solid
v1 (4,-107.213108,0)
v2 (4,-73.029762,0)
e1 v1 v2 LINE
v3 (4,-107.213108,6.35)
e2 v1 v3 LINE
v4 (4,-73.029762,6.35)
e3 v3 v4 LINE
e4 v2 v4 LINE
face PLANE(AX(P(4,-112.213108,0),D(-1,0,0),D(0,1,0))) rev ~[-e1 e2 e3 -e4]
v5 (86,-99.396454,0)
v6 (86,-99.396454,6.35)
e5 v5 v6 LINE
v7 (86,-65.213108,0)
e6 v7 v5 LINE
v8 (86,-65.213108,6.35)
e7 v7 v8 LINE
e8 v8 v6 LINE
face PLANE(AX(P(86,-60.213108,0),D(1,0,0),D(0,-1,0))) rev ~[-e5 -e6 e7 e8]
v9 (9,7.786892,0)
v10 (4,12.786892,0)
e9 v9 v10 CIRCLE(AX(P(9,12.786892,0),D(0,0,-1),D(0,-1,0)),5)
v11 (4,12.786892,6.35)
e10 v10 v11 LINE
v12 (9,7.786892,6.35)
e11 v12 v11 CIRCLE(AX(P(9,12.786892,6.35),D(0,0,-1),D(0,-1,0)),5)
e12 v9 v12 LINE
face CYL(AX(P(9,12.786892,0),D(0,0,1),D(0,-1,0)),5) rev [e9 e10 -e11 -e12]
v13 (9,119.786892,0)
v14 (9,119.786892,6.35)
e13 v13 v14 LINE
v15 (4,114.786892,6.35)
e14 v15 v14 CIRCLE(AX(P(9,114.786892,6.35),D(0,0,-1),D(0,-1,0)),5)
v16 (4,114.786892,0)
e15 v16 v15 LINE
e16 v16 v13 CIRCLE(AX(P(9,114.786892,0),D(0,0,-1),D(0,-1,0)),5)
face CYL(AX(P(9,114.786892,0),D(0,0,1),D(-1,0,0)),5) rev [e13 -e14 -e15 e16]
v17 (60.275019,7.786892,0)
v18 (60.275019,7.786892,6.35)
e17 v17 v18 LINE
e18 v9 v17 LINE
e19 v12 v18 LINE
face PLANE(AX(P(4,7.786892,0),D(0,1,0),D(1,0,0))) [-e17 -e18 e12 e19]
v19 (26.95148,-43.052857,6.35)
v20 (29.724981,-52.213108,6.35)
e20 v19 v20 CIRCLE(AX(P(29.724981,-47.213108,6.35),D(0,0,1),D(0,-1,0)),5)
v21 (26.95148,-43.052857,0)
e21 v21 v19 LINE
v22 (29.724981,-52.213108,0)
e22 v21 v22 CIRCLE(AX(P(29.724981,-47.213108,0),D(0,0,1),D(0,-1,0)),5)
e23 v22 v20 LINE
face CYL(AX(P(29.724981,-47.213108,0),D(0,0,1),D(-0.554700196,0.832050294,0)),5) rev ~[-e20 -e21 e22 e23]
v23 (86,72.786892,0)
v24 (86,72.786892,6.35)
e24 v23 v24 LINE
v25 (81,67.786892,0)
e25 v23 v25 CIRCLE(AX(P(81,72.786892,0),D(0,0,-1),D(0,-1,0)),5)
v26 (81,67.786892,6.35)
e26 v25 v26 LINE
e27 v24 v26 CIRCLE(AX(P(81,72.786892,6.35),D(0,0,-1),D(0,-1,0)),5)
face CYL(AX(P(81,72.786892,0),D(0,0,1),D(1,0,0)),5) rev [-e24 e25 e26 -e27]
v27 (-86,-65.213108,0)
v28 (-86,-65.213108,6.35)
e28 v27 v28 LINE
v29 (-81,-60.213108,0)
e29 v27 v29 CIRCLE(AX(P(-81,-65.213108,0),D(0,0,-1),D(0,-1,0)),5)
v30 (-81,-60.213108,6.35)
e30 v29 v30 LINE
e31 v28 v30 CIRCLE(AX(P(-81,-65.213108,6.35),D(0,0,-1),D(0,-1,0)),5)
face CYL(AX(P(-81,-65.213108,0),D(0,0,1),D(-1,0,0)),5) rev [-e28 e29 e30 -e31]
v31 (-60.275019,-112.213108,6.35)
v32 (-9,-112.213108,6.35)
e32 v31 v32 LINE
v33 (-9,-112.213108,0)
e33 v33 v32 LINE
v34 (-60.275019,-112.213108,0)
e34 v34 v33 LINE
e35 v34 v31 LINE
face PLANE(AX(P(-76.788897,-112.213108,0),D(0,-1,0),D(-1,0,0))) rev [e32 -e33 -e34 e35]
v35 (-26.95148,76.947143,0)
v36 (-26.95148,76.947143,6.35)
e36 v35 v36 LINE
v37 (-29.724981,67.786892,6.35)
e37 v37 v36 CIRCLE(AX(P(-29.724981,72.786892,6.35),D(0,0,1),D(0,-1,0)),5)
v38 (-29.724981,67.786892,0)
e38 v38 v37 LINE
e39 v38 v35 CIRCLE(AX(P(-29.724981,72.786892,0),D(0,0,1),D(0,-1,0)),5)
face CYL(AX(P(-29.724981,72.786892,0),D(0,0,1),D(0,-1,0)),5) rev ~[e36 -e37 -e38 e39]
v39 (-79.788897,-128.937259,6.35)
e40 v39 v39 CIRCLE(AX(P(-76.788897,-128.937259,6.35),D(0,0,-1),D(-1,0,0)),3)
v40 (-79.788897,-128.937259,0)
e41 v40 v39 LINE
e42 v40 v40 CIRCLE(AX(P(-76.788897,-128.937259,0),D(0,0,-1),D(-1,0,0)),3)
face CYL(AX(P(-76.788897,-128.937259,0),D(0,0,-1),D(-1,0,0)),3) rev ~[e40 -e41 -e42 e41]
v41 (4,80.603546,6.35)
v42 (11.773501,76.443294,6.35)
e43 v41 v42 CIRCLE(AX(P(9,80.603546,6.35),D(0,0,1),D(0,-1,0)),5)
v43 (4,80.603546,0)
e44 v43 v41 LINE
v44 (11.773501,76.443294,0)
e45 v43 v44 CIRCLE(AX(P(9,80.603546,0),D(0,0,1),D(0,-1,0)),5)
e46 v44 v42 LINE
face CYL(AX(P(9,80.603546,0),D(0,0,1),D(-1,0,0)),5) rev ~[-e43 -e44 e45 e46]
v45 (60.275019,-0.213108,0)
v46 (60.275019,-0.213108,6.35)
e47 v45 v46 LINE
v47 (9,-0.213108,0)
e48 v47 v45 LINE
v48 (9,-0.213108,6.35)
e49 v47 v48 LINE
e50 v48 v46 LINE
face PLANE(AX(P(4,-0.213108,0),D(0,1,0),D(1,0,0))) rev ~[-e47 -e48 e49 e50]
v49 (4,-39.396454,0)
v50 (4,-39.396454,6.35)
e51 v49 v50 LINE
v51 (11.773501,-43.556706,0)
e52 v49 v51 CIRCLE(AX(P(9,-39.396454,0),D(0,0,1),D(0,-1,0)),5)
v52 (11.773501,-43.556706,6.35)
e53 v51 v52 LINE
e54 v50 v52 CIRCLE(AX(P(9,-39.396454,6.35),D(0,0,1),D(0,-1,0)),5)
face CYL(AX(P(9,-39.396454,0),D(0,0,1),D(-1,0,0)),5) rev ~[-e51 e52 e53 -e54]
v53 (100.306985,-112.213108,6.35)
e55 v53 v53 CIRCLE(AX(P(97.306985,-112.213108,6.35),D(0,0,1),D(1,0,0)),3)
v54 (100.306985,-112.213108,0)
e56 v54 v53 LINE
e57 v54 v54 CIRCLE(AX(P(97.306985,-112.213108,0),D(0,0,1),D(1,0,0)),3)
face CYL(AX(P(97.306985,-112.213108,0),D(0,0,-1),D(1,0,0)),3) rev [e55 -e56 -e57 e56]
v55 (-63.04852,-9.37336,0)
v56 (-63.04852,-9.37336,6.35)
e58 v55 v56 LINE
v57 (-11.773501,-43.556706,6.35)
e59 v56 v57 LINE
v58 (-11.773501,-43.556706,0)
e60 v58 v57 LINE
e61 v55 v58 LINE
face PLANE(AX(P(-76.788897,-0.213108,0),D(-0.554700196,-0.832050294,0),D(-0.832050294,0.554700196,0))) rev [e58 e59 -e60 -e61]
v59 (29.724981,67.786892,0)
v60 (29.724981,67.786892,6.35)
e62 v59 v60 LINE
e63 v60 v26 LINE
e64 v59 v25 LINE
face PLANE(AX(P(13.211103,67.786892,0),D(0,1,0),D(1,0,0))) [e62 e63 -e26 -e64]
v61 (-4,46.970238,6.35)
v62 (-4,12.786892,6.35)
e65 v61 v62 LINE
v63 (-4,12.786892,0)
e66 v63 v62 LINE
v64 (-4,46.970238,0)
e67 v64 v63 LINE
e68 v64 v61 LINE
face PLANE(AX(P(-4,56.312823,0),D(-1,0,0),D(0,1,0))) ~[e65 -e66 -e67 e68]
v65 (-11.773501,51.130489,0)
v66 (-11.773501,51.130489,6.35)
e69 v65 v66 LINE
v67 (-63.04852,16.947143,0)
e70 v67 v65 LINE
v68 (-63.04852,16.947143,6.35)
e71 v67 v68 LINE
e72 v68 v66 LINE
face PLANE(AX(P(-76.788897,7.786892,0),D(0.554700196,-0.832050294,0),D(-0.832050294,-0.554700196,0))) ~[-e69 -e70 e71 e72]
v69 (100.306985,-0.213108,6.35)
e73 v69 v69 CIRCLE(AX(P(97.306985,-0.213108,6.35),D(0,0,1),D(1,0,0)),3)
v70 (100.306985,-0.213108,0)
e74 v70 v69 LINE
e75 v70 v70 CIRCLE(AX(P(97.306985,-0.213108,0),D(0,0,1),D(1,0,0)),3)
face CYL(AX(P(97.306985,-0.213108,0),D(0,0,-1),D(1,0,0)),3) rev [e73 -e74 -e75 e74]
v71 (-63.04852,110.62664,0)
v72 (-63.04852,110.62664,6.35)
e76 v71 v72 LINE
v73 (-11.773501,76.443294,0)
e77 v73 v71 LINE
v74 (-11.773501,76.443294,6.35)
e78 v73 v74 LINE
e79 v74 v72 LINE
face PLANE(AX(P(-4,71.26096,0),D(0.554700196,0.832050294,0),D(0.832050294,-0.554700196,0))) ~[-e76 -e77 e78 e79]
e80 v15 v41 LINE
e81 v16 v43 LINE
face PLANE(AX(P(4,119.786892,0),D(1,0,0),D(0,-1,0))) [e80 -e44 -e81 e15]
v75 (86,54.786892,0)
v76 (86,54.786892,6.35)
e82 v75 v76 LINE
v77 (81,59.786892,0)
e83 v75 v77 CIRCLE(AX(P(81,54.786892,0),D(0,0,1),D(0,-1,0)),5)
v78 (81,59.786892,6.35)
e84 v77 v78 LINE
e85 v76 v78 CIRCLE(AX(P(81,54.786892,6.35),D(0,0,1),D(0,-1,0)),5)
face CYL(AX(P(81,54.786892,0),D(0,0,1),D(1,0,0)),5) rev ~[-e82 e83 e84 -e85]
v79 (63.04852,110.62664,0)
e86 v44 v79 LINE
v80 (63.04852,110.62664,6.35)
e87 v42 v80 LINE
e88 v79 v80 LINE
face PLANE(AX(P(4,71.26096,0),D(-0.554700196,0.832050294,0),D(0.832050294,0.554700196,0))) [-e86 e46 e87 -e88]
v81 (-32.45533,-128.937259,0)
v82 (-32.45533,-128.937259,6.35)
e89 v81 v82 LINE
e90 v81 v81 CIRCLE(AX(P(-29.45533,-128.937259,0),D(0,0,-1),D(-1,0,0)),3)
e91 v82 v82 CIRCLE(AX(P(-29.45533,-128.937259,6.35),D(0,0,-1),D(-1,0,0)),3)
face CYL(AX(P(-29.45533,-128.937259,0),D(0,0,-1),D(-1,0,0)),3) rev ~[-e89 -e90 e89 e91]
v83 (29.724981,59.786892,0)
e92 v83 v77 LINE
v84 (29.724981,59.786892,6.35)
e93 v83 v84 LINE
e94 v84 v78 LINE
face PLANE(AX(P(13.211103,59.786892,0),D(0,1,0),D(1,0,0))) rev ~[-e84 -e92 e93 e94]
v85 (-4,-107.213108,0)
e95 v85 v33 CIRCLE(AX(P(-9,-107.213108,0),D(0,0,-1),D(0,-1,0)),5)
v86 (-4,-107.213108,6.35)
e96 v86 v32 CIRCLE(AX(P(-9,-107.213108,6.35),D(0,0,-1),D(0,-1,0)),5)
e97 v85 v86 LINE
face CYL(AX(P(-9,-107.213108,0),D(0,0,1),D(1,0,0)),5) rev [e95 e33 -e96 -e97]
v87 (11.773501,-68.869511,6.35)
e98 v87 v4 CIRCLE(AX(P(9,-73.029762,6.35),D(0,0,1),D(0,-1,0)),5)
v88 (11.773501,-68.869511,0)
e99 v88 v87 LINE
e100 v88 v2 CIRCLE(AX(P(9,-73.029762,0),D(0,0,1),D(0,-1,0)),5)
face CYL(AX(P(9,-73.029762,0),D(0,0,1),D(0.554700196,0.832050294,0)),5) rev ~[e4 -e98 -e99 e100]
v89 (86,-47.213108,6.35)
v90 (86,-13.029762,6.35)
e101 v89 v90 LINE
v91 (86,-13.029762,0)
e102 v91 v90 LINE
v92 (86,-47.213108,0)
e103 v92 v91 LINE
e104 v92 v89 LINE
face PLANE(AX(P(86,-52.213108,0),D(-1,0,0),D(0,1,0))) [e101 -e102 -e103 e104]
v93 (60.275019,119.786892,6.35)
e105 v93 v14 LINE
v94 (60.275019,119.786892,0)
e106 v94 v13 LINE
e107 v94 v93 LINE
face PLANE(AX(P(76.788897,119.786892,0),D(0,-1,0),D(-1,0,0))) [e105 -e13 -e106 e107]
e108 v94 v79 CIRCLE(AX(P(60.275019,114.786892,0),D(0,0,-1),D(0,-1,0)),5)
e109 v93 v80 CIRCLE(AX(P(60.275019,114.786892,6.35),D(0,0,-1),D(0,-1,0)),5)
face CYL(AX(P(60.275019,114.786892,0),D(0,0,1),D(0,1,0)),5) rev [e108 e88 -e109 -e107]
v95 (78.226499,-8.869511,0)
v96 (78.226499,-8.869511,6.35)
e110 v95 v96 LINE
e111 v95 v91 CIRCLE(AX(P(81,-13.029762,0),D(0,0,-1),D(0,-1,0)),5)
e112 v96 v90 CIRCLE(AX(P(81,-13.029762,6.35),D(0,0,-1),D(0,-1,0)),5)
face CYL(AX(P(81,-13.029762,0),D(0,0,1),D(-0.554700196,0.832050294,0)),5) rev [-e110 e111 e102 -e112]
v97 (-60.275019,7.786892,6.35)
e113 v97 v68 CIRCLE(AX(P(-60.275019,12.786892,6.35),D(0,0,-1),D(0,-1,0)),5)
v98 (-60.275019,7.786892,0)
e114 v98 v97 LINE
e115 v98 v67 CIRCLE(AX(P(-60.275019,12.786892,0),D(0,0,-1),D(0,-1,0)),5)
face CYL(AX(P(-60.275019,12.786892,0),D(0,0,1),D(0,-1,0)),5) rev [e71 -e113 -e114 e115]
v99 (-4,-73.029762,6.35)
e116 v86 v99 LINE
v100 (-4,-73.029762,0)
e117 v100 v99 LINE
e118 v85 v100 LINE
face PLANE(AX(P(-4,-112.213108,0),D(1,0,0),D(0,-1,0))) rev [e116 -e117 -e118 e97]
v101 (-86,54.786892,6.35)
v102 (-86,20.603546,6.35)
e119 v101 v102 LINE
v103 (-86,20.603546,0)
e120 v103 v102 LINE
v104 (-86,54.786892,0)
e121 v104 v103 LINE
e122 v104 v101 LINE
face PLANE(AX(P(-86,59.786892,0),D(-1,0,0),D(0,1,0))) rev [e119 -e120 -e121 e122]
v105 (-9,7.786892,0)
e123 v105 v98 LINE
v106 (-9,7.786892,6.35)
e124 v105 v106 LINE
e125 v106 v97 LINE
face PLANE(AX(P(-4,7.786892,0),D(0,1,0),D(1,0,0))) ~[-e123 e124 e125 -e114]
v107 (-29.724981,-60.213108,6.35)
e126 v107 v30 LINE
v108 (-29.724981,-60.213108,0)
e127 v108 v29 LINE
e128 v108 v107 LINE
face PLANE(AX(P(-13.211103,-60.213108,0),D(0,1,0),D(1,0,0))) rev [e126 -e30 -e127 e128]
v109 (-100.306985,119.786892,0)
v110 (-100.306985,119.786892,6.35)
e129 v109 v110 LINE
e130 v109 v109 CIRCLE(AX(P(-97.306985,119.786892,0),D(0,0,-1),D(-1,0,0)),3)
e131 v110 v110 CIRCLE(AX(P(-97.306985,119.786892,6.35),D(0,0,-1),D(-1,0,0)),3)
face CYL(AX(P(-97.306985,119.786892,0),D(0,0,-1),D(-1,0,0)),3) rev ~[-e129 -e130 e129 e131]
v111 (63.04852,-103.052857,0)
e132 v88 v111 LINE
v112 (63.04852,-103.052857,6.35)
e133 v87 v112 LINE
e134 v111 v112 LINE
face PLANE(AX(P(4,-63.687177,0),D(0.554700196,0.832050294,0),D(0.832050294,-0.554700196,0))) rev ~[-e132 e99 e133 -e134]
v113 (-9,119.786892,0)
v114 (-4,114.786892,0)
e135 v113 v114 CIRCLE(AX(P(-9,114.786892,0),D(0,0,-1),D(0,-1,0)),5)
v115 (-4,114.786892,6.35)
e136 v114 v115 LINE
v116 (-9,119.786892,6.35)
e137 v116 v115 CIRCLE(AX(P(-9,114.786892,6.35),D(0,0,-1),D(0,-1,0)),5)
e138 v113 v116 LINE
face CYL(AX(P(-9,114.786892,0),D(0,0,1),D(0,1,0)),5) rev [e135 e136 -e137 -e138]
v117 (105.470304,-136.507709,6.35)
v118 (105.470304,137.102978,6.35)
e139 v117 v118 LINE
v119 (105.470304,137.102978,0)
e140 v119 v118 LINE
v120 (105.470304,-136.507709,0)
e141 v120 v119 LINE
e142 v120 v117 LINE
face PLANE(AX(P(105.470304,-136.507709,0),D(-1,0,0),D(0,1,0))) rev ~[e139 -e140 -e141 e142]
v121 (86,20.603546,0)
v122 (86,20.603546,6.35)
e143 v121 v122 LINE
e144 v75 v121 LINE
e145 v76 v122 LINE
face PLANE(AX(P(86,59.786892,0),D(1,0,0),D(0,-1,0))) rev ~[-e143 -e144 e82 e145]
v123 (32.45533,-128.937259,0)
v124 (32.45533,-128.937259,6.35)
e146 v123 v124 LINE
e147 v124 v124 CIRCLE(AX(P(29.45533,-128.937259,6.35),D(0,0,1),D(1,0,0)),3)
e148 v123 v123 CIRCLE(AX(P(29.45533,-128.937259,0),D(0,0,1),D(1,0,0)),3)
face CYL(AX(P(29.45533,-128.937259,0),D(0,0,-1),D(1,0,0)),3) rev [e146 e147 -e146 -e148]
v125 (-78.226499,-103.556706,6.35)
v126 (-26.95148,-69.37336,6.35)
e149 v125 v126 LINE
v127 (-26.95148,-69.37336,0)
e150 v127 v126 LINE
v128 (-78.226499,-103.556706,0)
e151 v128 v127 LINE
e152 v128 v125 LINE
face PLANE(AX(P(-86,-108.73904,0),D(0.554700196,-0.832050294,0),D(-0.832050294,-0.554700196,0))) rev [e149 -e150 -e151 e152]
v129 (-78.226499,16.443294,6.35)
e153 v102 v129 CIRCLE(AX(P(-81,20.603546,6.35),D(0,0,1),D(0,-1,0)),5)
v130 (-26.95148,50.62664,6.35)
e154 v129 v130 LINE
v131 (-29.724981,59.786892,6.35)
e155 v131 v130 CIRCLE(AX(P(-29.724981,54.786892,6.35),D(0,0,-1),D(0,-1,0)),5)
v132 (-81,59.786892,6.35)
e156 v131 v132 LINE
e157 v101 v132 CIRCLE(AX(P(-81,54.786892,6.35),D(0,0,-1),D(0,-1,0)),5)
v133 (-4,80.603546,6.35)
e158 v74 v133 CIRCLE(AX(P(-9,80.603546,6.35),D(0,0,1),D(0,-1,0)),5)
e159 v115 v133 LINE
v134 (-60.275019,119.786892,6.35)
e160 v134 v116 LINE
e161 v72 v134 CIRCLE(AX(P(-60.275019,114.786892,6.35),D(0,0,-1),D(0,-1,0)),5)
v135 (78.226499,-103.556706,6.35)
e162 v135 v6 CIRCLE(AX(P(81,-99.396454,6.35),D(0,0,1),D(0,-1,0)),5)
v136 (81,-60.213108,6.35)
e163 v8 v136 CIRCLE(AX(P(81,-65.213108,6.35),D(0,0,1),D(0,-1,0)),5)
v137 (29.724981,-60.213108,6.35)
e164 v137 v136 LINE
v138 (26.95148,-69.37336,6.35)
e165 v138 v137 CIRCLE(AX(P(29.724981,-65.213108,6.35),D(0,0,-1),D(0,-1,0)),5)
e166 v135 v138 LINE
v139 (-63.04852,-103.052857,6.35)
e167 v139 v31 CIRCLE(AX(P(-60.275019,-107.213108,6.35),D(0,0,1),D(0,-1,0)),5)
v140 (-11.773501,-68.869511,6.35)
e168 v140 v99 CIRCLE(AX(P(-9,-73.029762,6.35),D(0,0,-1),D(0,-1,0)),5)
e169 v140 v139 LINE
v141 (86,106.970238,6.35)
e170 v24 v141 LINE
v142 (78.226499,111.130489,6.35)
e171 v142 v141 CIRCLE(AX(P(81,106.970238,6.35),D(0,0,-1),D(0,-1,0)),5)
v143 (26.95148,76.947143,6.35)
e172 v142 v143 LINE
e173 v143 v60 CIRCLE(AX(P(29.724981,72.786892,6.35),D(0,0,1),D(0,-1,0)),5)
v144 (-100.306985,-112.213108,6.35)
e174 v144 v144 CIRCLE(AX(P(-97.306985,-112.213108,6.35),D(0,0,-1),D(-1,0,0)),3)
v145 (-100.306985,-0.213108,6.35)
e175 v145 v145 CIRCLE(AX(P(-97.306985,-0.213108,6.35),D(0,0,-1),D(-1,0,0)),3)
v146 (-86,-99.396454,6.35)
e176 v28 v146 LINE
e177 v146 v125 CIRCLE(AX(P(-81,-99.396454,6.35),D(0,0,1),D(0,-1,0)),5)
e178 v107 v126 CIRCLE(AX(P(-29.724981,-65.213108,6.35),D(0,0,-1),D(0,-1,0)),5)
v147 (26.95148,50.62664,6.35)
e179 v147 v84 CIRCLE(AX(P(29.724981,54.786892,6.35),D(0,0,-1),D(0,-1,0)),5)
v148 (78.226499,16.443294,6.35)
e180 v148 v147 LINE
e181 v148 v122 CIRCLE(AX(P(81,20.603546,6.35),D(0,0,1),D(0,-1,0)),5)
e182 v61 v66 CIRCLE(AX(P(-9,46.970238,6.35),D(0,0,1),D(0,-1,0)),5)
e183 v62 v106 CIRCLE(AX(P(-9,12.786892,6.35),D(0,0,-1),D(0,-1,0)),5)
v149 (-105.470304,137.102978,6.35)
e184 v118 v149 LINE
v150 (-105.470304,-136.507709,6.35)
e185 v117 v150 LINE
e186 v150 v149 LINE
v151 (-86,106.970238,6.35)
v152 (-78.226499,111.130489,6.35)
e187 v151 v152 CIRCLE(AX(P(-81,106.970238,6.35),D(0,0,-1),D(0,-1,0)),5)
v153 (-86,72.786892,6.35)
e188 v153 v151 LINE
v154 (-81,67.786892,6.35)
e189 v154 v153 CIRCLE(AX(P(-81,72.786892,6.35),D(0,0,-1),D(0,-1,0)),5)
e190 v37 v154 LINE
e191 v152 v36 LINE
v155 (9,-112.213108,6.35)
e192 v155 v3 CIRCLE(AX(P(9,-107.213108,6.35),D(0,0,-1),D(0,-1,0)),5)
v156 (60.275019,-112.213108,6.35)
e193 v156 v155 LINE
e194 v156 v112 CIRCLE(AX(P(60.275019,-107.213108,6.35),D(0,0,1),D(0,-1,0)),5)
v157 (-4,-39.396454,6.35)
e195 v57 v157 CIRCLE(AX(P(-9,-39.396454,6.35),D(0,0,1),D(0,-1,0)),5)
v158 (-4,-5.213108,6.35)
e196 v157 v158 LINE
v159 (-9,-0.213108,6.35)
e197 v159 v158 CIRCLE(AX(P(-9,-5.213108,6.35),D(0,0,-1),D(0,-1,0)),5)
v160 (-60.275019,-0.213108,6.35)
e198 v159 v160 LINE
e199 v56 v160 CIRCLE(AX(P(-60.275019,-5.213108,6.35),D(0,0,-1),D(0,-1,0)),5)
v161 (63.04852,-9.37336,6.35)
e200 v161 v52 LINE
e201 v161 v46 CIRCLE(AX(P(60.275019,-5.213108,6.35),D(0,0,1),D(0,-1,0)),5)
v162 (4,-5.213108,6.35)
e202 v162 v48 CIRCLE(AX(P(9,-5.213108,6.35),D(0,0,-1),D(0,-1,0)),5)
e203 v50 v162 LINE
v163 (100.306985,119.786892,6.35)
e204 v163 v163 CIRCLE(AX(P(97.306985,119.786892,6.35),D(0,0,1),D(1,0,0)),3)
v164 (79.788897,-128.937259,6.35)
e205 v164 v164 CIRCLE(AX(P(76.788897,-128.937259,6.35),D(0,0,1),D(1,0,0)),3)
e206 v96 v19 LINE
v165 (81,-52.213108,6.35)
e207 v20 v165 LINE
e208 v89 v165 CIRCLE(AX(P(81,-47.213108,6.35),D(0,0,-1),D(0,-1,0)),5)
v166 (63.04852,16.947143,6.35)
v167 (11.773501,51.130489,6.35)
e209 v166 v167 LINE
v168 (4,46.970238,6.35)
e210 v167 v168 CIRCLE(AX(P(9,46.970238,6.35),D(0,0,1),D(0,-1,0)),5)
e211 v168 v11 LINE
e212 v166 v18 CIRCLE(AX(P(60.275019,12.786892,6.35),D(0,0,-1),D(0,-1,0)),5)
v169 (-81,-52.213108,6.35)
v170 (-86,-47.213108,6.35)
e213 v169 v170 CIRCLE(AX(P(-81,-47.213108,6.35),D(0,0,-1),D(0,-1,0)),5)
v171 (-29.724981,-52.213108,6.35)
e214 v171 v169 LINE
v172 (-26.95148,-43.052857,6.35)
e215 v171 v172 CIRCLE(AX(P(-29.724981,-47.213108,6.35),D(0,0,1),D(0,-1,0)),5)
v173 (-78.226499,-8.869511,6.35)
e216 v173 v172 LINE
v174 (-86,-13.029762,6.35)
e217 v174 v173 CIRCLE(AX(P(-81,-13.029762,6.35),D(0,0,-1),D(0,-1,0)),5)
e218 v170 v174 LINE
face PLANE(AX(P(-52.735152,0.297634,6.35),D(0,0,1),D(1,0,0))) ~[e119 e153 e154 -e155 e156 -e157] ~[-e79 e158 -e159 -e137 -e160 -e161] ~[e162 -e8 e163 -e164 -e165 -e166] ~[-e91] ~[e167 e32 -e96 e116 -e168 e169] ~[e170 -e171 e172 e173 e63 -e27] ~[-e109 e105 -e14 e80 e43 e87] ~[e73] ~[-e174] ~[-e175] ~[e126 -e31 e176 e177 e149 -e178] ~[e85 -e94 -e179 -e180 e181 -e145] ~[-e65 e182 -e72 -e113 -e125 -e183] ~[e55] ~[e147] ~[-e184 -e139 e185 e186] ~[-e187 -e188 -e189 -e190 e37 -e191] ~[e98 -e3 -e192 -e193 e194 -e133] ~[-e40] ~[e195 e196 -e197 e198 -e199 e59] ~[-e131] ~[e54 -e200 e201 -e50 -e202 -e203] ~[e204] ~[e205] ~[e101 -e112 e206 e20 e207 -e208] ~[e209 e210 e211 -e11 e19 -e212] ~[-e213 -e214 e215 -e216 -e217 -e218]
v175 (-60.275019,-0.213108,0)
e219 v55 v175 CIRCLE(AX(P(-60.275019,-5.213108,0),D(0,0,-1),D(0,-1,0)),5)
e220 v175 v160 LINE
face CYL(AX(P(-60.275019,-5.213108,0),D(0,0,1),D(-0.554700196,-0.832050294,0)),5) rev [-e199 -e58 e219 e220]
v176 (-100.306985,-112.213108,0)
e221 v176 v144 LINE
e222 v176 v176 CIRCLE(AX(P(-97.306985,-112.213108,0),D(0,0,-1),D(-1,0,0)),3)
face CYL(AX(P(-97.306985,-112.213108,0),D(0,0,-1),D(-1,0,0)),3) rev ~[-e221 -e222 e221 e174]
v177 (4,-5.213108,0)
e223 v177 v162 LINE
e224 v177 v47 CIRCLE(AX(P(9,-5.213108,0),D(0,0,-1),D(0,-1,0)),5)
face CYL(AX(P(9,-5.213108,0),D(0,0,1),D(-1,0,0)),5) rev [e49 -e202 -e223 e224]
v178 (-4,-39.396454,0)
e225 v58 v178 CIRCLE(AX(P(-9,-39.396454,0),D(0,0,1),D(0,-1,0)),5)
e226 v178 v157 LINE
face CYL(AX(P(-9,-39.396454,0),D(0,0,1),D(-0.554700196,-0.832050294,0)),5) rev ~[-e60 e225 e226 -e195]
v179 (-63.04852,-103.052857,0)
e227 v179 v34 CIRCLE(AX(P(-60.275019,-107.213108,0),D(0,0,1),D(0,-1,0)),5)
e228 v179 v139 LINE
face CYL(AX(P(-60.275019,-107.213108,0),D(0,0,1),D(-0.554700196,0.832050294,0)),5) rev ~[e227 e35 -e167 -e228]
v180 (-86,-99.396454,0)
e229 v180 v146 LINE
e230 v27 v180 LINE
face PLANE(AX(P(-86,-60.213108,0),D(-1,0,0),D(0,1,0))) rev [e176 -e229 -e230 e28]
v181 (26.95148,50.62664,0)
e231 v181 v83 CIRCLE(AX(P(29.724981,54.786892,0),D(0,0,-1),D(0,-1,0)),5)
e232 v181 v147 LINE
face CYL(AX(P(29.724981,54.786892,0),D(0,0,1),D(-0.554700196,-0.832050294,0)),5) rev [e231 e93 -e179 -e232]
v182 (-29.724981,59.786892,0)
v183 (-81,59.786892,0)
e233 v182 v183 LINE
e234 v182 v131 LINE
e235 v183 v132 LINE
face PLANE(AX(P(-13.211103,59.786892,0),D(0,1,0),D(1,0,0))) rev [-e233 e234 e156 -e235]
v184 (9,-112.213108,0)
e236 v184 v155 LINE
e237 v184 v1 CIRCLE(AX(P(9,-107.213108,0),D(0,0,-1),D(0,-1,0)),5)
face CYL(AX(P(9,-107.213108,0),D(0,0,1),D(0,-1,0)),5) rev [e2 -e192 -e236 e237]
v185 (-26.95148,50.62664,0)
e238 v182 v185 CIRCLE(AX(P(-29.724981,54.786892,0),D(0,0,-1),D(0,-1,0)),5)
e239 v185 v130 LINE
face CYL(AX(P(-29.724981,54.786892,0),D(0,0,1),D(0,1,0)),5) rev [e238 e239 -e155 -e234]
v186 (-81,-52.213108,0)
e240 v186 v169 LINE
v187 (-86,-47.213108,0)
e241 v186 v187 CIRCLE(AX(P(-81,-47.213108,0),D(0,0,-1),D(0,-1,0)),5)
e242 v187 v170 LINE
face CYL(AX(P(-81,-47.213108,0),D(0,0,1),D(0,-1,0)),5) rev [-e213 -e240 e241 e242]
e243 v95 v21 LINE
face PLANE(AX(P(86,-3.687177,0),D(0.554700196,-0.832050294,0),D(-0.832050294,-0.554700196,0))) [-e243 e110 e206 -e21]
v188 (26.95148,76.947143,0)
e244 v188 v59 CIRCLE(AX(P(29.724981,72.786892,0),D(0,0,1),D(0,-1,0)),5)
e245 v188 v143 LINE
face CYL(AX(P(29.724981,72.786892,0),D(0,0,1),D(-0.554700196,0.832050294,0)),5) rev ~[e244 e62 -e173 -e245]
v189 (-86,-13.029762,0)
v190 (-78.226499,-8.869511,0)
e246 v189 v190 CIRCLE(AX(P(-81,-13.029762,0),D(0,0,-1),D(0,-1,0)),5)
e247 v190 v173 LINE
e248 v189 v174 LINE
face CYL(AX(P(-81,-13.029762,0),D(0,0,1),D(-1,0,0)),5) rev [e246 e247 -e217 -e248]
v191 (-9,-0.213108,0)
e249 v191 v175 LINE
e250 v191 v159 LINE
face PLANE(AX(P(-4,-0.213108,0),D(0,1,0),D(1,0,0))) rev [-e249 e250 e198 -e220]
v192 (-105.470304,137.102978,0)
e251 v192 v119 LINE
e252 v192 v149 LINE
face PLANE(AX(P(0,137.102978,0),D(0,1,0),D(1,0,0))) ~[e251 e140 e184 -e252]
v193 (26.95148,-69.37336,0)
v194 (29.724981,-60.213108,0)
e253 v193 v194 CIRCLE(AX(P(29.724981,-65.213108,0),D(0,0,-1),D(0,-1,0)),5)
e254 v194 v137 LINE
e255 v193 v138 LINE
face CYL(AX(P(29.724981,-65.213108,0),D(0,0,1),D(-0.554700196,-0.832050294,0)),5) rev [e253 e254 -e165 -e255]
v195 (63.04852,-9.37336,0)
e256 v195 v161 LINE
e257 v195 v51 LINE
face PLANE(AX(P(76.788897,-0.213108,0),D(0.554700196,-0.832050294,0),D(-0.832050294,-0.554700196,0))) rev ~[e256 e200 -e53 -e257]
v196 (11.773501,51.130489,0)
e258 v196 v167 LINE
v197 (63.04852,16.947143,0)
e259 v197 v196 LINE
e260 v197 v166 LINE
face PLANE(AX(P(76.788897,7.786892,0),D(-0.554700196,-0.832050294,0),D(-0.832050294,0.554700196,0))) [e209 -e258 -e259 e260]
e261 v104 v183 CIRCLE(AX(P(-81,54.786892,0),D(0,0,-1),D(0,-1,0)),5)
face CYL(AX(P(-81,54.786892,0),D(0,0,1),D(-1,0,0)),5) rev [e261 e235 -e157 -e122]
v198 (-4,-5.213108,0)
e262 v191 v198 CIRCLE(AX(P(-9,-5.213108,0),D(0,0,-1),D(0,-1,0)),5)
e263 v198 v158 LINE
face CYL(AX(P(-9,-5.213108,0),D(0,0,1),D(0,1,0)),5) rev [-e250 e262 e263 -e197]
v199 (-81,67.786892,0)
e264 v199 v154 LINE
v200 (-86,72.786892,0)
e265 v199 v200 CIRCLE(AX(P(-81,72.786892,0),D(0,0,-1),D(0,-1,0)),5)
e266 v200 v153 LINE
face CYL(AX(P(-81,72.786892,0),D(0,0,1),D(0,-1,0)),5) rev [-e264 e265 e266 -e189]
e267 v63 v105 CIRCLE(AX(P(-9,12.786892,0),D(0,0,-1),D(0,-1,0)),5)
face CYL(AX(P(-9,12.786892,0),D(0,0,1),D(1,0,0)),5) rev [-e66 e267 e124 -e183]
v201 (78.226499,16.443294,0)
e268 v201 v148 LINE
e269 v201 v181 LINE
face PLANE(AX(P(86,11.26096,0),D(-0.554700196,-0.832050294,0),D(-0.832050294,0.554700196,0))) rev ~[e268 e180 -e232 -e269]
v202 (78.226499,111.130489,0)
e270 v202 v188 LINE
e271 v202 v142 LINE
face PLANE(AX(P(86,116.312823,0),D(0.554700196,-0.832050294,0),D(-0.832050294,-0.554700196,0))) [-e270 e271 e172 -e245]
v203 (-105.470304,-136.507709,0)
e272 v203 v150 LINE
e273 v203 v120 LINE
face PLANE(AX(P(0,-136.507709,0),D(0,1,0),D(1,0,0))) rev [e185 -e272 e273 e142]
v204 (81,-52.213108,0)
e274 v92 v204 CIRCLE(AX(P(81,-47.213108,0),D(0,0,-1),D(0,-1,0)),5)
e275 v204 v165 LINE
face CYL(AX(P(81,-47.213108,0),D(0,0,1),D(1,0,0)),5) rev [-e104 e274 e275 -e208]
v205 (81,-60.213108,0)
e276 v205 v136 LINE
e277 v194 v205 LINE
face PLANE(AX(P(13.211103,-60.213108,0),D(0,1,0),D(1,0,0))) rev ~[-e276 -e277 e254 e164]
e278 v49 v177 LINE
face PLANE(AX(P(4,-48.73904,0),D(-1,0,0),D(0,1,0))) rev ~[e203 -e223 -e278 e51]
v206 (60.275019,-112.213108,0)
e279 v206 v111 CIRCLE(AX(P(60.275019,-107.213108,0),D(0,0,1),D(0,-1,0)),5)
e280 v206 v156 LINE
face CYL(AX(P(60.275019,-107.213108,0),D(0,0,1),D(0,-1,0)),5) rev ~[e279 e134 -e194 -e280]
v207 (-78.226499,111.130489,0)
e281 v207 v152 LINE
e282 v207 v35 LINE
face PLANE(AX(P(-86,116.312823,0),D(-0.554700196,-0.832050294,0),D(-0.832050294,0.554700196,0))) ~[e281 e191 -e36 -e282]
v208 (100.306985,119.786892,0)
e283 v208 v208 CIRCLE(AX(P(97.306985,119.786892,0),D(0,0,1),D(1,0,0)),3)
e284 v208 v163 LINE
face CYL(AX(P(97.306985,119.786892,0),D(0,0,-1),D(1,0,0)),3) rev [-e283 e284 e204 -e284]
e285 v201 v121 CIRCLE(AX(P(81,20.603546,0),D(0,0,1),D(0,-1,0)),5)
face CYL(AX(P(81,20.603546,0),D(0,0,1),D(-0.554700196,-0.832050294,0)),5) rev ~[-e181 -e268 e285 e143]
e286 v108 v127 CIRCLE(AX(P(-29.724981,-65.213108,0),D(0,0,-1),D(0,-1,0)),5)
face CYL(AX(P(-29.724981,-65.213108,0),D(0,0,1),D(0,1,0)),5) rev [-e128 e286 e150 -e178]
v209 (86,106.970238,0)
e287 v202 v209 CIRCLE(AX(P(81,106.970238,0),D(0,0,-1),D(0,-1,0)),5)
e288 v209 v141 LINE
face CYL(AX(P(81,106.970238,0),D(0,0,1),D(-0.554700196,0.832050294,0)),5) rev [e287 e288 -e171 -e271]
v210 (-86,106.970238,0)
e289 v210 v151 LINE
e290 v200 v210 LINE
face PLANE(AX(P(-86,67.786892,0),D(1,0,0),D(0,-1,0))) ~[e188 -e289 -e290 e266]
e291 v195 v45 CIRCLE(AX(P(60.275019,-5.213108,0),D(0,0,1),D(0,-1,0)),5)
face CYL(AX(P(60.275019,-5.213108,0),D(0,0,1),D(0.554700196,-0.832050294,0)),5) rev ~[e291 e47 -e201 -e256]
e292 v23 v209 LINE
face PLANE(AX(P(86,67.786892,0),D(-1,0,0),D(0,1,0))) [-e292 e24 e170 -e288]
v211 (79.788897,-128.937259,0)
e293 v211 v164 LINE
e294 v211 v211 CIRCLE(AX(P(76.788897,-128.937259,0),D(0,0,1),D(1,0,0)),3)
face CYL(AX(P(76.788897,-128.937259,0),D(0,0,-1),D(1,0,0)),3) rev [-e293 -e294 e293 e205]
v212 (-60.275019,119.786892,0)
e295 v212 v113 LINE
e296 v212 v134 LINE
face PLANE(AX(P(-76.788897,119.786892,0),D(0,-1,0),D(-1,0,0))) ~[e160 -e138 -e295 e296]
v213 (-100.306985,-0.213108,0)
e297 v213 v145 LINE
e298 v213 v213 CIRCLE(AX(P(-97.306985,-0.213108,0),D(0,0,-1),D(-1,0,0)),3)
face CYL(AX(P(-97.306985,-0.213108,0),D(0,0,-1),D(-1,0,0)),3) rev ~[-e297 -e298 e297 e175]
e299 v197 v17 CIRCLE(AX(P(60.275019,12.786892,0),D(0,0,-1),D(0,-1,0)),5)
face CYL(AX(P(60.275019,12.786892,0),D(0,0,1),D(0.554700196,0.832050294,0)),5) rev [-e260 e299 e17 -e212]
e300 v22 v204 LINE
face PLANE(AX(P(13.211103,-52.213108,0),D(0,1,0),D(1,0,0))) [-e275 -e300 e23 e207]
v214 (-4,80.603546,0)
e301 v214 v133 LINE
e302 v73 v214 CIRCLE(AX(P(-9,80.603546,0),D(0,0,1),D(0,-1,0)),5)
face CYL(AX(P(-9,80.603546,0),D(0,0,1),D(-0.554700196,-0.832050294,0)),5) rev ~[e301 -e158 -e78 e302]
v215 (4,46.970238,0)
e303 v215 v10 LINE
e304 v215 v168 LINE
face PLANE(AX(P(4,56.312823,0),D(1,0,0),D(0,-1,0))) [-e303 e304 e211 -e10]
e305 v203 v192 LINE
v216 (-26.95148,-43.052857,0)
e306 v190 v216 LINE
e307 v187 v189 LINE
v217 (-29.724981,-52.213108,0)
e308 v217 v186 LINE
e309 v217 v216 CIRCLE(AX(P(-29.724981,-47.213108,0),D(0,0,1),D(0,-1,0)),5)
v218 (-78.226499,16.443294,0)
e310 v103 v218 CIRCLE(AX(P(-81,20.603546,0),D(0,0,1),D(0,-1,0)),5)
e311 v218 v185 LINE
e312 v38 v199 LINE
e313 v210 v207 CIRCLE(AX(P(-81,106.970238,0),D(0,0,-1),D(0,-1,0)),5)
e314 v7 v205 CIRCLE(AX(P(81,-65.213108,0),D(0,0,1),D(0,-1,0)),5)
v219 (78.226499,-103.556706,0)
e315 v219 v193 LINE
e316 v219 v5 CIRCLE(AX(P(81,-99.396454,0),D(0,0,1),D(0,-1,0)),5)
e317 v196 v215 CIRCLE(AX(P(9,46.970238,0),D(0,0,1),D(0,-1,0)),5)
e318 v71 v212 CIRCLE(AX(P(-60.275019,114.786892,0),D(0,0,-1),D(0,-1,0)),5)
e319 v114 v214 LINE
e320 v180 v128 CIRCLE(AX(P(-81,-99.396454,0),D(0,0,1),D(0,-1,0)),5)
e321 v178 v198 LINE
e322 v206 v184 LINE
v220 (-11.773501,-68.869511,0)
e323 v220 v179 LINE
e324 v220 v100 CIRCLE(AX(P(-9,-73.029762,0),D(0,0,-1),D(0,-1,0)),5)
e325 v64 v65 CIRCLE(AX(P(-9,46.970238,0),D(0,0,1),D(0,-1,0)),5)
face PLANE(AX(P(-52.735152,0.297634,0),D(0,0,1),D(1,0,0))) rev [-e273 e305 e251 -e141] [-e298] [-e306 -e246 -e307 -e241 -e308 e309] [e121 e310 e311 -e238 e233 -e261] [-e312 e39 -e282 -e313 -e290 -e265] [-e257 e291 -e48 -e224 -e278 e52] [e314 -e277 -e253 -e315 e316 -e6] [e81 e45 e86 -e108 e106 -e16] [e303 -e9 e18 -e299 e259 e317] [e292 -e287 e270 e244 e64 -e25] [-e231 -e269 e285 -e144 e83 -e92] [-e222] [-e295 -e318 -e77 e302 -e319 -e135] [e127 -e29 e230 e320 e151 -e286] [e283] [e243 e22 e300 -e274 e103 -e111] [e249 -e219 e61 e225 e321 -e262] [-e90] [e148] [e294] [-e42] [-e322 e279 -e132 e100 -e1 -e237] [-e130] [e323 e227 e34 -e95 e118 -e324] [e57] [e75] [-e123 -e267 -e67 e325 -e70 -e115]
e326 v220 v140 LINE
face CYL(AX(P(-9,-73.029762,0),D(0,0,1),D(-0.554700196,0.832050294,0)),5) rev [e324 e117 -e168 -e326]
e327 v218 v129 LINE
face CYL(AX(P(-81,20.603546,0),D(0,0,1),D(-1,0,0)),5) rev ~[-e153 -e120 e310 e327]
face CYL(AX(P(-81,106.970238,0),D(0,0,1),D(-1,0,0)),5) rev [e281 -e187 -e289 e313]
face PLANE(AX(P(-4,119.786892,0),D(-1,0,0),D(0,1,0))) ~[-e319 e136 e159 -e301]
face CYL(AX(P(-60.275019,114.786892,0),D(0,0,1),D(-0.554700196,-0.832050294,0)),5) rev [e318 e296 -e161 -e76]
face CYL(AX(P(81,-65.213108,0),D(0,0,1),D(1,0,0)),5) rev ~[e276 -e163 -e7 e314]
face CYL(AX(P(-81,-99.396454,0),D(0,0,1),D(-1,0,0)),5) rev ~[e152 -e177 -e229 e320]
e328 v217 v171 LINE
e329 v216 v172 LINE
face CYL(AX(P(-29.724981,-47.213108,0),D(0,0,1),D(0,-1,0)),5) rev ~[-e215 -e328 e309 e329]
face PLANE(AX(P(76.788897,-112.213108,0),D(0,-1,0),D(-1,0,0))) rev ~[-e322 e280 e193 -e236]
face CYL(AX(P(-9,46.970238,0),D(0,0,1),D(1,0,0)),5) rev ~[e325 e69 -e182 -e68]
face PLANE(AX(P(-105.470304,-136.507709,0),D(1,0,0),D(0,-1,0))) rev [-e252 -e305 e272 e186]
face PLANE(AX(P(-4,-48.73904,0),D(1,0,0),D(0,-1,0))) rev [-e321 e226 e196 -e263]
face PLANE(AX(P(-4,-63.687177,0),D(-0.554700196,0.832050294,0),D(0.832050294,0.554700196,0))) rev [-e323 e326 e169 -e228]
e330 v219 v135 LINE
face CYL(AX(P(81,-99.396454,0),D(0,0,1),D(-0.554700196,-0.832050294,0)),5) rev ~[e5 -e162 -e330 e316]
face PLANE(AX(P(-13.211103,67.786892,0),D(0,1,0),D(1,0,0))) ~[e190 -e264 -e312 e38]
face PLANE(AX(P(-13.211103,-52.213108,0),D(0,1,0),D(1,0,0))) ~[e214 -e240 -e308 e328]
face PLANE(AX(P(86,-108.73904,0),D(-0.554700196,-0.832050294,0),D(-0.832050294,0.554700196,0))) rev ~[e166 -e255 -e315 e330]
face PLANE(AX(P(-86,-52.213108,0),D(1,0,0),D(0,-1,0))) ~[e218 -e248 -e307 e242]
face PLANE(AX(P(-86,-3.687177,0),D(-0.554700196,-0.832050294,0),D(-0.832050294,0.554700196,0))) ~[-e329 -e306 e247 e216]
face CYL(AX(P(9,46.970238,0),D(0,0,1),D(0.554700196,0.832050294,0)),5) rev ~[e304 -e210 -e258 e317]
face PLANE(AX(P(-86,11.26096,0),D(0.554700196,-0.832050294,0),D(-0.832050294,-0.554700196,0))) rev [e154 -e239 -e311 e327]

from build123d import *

# Parameters (mm, degrees)
SKETCH1_W                   = 105.470303733
SKETCH1_H                   = 273.610686589
SKETCH1_R                   = 3
BOSS_EXTRUDE2_DEPTH         = 6.35
CUTOUT_FILLETS_R            = 5
CUTOUT_FILLETS_OF_MIRROR2_R = 5


with BuildPart() as part:
    # Sketch1 → Boss-Extrude2 (new body)
    with BuildSketch(Plane.XY):
        with Locations((52.735151867, 0.297634424)):
            Rectangle(SKETCH1_W, SKETCH1_H)
        with Locations((29.45532979, -128.937258766)):
            Circle(SKETCH1_R, mode=Mode.SUBTRACT)
        with Locations((76.788897449, -128.937258766)):
            Circle(SKETCH1_R, mode=Mode.SUBTRACT)
        with Locations((97.306985108, 119.786891803)):
            Circle(SKETCH1_R, mode=Mode.SUBTRACT)
        with Locations((97.306985108, -0.213108197)):
            Circle(SKETCH1_R, mode=Mode.SUBTRACT)
        with Locations((97.306985108, -112.213108197)):
            Circle(SKETCH1_R, mode=Mode.SUBTRACT)
        Polygon((4, 119.786891803), (4, 71.260960171), (76.788897449, 119.786891803), align=None, mode=Mode.SUBTRACT)
        Polygon((86, 116.312823436), (13.211102551, 67.786891803), (86, 67.786891803), align=None, mode=Mode.SUBTRACT)
        Polygon((13.211102551, 59.786891803), (86, 59.786891803), (86, 11.260960171), align=None, mode=Mode.SUBTRACT)
        Polygon((76.788897449, 7.786891803), (4, 56.312823436), (4, 7.786891803), align=None, mode=Mode.SUBTRACT)
        Polygon((4, -0.213108197), (76.788897449, -0.213108197), (4, -48.739039829), align=None, mode=Mode.SUBTRACT)
        Polygon((86, -3.687176564), (13.211102551, -52.213108197), (86, -52.213108197), align=None, mode=Mode.SUBTRACT)
        Polygon((13.211102551, -60.213108197), (86, -60.213108197), (86, -108.739039829), align=None, mode=Mode.SUBTRACT)
        Polygon((4, -112.213108197), (4, -63.687176564), (76.788897449, -112.213108197), align=None, mode=Mode.SUBTRACT)
    boss_extrude2 = extrude(amount=BOSS_EXTRUDE2_DEPTH)

    # Cutout_Fillets
    cutout_fillets_edges = [part.edges().sort_by_distance(p)[0] for p in [
        (76.788897449, 119.786891803, 3.175),
        (4, 119.786891803, 3.175),
        (4, 71.260960171, 3.175),
        (86, 67.786891803, 3.175),
        (86, 116.312823436, 3.175),
        (13.211102551, 67.786891803, 3.175),
        (13.211102551, 59.786891803, 3.175),
        (86, 11.260960171, 3.175),
        (86, 59.786891803, 3.175),
        (4, 7.786891803, 3.175),
        (76.788897449, 7.786891803, 3.175),
        (4, 56.312823436, 3.175),
        (4, -0.213108197, 3.175),
        (4, -48.739039829, 3.175),
        (76.788897449, -0.213108197, 3.175),
        (86, -52.213108197, 3.175),
        (86, -3.687176564, 3.175),
        (13.211102551, -52.213108197, 3.175),
        (13.211102551, -60.213108197, 3.175),
        (86, -108.739039829, 3.175),
        (86, -60.213108197, 3.175),
        (4, -112.213108197, 3.175),
        (76.788897449, -112.213108197, 3.175),
        (4, -63.687176564, 3.175),
    ]]
    fillet(cutout_fillets_edges, radius=CUTOUT_FILLETS_R)

    # Mirror2: Boss-Extrude2 across plane
    add(boss_extrude2.mirror(Plane(origin=(0, 137.102977719, 6.35), x_dir=(0, 0, 1), z_dir=(1, 0, 0))))

    # Cutout_Fillets of Mirror2
    cutout_fillets_of_mirror2_edges = [part.edges().sort_by_distance(p)[0] for p in [
        (-76.788897449, 119.786891803, 3.175),
        (-4, 119.786891803, 3.175),
        (-4, 71.260960171, 3.175),
        (-86, 67.786891803, 3.175),
        (-86, 116.312823436, 3.175),
        (-13.211102551, 67.786891803, 3.175),
        (-13.211102551, 59.786891803, 3.175),
        (-86, 11.260960171, 3.175),
        (-86, 59.786891803, 3.175),
        (-4, 7.786891803, 3.175),
        (-76.788897449, 7.786891803, 3.175),
        (-4, 56.312823436, 3.175),
        (-4, -0.213108197, 3.175),
        (-4, -48.739039829, 3.175),
        (-76.788897449, -0.213108197, 3.175),
        (-86, -52.213108197, 3.175),
        (-86, -3.687176564, 3.175),
        (-13.211102551, -52.213108197, 3.175),
        (-13.211102551, -60.213108197, 3.175),
        (-86, -108.739039829, 3.175),
        (-86, -60.213108197, 3.175),
        (-4, -112.213108197, 3.175),
        (-76.788897449, -112.213108197, 3.175),
        (-4, -63.687176564, 3.175),
    ]]
    fillet(cutout_fillets_of_mirror2_edges, radius=CUTOUT_FILLETS_OF_MIRROR2_R)


solid = part.part
